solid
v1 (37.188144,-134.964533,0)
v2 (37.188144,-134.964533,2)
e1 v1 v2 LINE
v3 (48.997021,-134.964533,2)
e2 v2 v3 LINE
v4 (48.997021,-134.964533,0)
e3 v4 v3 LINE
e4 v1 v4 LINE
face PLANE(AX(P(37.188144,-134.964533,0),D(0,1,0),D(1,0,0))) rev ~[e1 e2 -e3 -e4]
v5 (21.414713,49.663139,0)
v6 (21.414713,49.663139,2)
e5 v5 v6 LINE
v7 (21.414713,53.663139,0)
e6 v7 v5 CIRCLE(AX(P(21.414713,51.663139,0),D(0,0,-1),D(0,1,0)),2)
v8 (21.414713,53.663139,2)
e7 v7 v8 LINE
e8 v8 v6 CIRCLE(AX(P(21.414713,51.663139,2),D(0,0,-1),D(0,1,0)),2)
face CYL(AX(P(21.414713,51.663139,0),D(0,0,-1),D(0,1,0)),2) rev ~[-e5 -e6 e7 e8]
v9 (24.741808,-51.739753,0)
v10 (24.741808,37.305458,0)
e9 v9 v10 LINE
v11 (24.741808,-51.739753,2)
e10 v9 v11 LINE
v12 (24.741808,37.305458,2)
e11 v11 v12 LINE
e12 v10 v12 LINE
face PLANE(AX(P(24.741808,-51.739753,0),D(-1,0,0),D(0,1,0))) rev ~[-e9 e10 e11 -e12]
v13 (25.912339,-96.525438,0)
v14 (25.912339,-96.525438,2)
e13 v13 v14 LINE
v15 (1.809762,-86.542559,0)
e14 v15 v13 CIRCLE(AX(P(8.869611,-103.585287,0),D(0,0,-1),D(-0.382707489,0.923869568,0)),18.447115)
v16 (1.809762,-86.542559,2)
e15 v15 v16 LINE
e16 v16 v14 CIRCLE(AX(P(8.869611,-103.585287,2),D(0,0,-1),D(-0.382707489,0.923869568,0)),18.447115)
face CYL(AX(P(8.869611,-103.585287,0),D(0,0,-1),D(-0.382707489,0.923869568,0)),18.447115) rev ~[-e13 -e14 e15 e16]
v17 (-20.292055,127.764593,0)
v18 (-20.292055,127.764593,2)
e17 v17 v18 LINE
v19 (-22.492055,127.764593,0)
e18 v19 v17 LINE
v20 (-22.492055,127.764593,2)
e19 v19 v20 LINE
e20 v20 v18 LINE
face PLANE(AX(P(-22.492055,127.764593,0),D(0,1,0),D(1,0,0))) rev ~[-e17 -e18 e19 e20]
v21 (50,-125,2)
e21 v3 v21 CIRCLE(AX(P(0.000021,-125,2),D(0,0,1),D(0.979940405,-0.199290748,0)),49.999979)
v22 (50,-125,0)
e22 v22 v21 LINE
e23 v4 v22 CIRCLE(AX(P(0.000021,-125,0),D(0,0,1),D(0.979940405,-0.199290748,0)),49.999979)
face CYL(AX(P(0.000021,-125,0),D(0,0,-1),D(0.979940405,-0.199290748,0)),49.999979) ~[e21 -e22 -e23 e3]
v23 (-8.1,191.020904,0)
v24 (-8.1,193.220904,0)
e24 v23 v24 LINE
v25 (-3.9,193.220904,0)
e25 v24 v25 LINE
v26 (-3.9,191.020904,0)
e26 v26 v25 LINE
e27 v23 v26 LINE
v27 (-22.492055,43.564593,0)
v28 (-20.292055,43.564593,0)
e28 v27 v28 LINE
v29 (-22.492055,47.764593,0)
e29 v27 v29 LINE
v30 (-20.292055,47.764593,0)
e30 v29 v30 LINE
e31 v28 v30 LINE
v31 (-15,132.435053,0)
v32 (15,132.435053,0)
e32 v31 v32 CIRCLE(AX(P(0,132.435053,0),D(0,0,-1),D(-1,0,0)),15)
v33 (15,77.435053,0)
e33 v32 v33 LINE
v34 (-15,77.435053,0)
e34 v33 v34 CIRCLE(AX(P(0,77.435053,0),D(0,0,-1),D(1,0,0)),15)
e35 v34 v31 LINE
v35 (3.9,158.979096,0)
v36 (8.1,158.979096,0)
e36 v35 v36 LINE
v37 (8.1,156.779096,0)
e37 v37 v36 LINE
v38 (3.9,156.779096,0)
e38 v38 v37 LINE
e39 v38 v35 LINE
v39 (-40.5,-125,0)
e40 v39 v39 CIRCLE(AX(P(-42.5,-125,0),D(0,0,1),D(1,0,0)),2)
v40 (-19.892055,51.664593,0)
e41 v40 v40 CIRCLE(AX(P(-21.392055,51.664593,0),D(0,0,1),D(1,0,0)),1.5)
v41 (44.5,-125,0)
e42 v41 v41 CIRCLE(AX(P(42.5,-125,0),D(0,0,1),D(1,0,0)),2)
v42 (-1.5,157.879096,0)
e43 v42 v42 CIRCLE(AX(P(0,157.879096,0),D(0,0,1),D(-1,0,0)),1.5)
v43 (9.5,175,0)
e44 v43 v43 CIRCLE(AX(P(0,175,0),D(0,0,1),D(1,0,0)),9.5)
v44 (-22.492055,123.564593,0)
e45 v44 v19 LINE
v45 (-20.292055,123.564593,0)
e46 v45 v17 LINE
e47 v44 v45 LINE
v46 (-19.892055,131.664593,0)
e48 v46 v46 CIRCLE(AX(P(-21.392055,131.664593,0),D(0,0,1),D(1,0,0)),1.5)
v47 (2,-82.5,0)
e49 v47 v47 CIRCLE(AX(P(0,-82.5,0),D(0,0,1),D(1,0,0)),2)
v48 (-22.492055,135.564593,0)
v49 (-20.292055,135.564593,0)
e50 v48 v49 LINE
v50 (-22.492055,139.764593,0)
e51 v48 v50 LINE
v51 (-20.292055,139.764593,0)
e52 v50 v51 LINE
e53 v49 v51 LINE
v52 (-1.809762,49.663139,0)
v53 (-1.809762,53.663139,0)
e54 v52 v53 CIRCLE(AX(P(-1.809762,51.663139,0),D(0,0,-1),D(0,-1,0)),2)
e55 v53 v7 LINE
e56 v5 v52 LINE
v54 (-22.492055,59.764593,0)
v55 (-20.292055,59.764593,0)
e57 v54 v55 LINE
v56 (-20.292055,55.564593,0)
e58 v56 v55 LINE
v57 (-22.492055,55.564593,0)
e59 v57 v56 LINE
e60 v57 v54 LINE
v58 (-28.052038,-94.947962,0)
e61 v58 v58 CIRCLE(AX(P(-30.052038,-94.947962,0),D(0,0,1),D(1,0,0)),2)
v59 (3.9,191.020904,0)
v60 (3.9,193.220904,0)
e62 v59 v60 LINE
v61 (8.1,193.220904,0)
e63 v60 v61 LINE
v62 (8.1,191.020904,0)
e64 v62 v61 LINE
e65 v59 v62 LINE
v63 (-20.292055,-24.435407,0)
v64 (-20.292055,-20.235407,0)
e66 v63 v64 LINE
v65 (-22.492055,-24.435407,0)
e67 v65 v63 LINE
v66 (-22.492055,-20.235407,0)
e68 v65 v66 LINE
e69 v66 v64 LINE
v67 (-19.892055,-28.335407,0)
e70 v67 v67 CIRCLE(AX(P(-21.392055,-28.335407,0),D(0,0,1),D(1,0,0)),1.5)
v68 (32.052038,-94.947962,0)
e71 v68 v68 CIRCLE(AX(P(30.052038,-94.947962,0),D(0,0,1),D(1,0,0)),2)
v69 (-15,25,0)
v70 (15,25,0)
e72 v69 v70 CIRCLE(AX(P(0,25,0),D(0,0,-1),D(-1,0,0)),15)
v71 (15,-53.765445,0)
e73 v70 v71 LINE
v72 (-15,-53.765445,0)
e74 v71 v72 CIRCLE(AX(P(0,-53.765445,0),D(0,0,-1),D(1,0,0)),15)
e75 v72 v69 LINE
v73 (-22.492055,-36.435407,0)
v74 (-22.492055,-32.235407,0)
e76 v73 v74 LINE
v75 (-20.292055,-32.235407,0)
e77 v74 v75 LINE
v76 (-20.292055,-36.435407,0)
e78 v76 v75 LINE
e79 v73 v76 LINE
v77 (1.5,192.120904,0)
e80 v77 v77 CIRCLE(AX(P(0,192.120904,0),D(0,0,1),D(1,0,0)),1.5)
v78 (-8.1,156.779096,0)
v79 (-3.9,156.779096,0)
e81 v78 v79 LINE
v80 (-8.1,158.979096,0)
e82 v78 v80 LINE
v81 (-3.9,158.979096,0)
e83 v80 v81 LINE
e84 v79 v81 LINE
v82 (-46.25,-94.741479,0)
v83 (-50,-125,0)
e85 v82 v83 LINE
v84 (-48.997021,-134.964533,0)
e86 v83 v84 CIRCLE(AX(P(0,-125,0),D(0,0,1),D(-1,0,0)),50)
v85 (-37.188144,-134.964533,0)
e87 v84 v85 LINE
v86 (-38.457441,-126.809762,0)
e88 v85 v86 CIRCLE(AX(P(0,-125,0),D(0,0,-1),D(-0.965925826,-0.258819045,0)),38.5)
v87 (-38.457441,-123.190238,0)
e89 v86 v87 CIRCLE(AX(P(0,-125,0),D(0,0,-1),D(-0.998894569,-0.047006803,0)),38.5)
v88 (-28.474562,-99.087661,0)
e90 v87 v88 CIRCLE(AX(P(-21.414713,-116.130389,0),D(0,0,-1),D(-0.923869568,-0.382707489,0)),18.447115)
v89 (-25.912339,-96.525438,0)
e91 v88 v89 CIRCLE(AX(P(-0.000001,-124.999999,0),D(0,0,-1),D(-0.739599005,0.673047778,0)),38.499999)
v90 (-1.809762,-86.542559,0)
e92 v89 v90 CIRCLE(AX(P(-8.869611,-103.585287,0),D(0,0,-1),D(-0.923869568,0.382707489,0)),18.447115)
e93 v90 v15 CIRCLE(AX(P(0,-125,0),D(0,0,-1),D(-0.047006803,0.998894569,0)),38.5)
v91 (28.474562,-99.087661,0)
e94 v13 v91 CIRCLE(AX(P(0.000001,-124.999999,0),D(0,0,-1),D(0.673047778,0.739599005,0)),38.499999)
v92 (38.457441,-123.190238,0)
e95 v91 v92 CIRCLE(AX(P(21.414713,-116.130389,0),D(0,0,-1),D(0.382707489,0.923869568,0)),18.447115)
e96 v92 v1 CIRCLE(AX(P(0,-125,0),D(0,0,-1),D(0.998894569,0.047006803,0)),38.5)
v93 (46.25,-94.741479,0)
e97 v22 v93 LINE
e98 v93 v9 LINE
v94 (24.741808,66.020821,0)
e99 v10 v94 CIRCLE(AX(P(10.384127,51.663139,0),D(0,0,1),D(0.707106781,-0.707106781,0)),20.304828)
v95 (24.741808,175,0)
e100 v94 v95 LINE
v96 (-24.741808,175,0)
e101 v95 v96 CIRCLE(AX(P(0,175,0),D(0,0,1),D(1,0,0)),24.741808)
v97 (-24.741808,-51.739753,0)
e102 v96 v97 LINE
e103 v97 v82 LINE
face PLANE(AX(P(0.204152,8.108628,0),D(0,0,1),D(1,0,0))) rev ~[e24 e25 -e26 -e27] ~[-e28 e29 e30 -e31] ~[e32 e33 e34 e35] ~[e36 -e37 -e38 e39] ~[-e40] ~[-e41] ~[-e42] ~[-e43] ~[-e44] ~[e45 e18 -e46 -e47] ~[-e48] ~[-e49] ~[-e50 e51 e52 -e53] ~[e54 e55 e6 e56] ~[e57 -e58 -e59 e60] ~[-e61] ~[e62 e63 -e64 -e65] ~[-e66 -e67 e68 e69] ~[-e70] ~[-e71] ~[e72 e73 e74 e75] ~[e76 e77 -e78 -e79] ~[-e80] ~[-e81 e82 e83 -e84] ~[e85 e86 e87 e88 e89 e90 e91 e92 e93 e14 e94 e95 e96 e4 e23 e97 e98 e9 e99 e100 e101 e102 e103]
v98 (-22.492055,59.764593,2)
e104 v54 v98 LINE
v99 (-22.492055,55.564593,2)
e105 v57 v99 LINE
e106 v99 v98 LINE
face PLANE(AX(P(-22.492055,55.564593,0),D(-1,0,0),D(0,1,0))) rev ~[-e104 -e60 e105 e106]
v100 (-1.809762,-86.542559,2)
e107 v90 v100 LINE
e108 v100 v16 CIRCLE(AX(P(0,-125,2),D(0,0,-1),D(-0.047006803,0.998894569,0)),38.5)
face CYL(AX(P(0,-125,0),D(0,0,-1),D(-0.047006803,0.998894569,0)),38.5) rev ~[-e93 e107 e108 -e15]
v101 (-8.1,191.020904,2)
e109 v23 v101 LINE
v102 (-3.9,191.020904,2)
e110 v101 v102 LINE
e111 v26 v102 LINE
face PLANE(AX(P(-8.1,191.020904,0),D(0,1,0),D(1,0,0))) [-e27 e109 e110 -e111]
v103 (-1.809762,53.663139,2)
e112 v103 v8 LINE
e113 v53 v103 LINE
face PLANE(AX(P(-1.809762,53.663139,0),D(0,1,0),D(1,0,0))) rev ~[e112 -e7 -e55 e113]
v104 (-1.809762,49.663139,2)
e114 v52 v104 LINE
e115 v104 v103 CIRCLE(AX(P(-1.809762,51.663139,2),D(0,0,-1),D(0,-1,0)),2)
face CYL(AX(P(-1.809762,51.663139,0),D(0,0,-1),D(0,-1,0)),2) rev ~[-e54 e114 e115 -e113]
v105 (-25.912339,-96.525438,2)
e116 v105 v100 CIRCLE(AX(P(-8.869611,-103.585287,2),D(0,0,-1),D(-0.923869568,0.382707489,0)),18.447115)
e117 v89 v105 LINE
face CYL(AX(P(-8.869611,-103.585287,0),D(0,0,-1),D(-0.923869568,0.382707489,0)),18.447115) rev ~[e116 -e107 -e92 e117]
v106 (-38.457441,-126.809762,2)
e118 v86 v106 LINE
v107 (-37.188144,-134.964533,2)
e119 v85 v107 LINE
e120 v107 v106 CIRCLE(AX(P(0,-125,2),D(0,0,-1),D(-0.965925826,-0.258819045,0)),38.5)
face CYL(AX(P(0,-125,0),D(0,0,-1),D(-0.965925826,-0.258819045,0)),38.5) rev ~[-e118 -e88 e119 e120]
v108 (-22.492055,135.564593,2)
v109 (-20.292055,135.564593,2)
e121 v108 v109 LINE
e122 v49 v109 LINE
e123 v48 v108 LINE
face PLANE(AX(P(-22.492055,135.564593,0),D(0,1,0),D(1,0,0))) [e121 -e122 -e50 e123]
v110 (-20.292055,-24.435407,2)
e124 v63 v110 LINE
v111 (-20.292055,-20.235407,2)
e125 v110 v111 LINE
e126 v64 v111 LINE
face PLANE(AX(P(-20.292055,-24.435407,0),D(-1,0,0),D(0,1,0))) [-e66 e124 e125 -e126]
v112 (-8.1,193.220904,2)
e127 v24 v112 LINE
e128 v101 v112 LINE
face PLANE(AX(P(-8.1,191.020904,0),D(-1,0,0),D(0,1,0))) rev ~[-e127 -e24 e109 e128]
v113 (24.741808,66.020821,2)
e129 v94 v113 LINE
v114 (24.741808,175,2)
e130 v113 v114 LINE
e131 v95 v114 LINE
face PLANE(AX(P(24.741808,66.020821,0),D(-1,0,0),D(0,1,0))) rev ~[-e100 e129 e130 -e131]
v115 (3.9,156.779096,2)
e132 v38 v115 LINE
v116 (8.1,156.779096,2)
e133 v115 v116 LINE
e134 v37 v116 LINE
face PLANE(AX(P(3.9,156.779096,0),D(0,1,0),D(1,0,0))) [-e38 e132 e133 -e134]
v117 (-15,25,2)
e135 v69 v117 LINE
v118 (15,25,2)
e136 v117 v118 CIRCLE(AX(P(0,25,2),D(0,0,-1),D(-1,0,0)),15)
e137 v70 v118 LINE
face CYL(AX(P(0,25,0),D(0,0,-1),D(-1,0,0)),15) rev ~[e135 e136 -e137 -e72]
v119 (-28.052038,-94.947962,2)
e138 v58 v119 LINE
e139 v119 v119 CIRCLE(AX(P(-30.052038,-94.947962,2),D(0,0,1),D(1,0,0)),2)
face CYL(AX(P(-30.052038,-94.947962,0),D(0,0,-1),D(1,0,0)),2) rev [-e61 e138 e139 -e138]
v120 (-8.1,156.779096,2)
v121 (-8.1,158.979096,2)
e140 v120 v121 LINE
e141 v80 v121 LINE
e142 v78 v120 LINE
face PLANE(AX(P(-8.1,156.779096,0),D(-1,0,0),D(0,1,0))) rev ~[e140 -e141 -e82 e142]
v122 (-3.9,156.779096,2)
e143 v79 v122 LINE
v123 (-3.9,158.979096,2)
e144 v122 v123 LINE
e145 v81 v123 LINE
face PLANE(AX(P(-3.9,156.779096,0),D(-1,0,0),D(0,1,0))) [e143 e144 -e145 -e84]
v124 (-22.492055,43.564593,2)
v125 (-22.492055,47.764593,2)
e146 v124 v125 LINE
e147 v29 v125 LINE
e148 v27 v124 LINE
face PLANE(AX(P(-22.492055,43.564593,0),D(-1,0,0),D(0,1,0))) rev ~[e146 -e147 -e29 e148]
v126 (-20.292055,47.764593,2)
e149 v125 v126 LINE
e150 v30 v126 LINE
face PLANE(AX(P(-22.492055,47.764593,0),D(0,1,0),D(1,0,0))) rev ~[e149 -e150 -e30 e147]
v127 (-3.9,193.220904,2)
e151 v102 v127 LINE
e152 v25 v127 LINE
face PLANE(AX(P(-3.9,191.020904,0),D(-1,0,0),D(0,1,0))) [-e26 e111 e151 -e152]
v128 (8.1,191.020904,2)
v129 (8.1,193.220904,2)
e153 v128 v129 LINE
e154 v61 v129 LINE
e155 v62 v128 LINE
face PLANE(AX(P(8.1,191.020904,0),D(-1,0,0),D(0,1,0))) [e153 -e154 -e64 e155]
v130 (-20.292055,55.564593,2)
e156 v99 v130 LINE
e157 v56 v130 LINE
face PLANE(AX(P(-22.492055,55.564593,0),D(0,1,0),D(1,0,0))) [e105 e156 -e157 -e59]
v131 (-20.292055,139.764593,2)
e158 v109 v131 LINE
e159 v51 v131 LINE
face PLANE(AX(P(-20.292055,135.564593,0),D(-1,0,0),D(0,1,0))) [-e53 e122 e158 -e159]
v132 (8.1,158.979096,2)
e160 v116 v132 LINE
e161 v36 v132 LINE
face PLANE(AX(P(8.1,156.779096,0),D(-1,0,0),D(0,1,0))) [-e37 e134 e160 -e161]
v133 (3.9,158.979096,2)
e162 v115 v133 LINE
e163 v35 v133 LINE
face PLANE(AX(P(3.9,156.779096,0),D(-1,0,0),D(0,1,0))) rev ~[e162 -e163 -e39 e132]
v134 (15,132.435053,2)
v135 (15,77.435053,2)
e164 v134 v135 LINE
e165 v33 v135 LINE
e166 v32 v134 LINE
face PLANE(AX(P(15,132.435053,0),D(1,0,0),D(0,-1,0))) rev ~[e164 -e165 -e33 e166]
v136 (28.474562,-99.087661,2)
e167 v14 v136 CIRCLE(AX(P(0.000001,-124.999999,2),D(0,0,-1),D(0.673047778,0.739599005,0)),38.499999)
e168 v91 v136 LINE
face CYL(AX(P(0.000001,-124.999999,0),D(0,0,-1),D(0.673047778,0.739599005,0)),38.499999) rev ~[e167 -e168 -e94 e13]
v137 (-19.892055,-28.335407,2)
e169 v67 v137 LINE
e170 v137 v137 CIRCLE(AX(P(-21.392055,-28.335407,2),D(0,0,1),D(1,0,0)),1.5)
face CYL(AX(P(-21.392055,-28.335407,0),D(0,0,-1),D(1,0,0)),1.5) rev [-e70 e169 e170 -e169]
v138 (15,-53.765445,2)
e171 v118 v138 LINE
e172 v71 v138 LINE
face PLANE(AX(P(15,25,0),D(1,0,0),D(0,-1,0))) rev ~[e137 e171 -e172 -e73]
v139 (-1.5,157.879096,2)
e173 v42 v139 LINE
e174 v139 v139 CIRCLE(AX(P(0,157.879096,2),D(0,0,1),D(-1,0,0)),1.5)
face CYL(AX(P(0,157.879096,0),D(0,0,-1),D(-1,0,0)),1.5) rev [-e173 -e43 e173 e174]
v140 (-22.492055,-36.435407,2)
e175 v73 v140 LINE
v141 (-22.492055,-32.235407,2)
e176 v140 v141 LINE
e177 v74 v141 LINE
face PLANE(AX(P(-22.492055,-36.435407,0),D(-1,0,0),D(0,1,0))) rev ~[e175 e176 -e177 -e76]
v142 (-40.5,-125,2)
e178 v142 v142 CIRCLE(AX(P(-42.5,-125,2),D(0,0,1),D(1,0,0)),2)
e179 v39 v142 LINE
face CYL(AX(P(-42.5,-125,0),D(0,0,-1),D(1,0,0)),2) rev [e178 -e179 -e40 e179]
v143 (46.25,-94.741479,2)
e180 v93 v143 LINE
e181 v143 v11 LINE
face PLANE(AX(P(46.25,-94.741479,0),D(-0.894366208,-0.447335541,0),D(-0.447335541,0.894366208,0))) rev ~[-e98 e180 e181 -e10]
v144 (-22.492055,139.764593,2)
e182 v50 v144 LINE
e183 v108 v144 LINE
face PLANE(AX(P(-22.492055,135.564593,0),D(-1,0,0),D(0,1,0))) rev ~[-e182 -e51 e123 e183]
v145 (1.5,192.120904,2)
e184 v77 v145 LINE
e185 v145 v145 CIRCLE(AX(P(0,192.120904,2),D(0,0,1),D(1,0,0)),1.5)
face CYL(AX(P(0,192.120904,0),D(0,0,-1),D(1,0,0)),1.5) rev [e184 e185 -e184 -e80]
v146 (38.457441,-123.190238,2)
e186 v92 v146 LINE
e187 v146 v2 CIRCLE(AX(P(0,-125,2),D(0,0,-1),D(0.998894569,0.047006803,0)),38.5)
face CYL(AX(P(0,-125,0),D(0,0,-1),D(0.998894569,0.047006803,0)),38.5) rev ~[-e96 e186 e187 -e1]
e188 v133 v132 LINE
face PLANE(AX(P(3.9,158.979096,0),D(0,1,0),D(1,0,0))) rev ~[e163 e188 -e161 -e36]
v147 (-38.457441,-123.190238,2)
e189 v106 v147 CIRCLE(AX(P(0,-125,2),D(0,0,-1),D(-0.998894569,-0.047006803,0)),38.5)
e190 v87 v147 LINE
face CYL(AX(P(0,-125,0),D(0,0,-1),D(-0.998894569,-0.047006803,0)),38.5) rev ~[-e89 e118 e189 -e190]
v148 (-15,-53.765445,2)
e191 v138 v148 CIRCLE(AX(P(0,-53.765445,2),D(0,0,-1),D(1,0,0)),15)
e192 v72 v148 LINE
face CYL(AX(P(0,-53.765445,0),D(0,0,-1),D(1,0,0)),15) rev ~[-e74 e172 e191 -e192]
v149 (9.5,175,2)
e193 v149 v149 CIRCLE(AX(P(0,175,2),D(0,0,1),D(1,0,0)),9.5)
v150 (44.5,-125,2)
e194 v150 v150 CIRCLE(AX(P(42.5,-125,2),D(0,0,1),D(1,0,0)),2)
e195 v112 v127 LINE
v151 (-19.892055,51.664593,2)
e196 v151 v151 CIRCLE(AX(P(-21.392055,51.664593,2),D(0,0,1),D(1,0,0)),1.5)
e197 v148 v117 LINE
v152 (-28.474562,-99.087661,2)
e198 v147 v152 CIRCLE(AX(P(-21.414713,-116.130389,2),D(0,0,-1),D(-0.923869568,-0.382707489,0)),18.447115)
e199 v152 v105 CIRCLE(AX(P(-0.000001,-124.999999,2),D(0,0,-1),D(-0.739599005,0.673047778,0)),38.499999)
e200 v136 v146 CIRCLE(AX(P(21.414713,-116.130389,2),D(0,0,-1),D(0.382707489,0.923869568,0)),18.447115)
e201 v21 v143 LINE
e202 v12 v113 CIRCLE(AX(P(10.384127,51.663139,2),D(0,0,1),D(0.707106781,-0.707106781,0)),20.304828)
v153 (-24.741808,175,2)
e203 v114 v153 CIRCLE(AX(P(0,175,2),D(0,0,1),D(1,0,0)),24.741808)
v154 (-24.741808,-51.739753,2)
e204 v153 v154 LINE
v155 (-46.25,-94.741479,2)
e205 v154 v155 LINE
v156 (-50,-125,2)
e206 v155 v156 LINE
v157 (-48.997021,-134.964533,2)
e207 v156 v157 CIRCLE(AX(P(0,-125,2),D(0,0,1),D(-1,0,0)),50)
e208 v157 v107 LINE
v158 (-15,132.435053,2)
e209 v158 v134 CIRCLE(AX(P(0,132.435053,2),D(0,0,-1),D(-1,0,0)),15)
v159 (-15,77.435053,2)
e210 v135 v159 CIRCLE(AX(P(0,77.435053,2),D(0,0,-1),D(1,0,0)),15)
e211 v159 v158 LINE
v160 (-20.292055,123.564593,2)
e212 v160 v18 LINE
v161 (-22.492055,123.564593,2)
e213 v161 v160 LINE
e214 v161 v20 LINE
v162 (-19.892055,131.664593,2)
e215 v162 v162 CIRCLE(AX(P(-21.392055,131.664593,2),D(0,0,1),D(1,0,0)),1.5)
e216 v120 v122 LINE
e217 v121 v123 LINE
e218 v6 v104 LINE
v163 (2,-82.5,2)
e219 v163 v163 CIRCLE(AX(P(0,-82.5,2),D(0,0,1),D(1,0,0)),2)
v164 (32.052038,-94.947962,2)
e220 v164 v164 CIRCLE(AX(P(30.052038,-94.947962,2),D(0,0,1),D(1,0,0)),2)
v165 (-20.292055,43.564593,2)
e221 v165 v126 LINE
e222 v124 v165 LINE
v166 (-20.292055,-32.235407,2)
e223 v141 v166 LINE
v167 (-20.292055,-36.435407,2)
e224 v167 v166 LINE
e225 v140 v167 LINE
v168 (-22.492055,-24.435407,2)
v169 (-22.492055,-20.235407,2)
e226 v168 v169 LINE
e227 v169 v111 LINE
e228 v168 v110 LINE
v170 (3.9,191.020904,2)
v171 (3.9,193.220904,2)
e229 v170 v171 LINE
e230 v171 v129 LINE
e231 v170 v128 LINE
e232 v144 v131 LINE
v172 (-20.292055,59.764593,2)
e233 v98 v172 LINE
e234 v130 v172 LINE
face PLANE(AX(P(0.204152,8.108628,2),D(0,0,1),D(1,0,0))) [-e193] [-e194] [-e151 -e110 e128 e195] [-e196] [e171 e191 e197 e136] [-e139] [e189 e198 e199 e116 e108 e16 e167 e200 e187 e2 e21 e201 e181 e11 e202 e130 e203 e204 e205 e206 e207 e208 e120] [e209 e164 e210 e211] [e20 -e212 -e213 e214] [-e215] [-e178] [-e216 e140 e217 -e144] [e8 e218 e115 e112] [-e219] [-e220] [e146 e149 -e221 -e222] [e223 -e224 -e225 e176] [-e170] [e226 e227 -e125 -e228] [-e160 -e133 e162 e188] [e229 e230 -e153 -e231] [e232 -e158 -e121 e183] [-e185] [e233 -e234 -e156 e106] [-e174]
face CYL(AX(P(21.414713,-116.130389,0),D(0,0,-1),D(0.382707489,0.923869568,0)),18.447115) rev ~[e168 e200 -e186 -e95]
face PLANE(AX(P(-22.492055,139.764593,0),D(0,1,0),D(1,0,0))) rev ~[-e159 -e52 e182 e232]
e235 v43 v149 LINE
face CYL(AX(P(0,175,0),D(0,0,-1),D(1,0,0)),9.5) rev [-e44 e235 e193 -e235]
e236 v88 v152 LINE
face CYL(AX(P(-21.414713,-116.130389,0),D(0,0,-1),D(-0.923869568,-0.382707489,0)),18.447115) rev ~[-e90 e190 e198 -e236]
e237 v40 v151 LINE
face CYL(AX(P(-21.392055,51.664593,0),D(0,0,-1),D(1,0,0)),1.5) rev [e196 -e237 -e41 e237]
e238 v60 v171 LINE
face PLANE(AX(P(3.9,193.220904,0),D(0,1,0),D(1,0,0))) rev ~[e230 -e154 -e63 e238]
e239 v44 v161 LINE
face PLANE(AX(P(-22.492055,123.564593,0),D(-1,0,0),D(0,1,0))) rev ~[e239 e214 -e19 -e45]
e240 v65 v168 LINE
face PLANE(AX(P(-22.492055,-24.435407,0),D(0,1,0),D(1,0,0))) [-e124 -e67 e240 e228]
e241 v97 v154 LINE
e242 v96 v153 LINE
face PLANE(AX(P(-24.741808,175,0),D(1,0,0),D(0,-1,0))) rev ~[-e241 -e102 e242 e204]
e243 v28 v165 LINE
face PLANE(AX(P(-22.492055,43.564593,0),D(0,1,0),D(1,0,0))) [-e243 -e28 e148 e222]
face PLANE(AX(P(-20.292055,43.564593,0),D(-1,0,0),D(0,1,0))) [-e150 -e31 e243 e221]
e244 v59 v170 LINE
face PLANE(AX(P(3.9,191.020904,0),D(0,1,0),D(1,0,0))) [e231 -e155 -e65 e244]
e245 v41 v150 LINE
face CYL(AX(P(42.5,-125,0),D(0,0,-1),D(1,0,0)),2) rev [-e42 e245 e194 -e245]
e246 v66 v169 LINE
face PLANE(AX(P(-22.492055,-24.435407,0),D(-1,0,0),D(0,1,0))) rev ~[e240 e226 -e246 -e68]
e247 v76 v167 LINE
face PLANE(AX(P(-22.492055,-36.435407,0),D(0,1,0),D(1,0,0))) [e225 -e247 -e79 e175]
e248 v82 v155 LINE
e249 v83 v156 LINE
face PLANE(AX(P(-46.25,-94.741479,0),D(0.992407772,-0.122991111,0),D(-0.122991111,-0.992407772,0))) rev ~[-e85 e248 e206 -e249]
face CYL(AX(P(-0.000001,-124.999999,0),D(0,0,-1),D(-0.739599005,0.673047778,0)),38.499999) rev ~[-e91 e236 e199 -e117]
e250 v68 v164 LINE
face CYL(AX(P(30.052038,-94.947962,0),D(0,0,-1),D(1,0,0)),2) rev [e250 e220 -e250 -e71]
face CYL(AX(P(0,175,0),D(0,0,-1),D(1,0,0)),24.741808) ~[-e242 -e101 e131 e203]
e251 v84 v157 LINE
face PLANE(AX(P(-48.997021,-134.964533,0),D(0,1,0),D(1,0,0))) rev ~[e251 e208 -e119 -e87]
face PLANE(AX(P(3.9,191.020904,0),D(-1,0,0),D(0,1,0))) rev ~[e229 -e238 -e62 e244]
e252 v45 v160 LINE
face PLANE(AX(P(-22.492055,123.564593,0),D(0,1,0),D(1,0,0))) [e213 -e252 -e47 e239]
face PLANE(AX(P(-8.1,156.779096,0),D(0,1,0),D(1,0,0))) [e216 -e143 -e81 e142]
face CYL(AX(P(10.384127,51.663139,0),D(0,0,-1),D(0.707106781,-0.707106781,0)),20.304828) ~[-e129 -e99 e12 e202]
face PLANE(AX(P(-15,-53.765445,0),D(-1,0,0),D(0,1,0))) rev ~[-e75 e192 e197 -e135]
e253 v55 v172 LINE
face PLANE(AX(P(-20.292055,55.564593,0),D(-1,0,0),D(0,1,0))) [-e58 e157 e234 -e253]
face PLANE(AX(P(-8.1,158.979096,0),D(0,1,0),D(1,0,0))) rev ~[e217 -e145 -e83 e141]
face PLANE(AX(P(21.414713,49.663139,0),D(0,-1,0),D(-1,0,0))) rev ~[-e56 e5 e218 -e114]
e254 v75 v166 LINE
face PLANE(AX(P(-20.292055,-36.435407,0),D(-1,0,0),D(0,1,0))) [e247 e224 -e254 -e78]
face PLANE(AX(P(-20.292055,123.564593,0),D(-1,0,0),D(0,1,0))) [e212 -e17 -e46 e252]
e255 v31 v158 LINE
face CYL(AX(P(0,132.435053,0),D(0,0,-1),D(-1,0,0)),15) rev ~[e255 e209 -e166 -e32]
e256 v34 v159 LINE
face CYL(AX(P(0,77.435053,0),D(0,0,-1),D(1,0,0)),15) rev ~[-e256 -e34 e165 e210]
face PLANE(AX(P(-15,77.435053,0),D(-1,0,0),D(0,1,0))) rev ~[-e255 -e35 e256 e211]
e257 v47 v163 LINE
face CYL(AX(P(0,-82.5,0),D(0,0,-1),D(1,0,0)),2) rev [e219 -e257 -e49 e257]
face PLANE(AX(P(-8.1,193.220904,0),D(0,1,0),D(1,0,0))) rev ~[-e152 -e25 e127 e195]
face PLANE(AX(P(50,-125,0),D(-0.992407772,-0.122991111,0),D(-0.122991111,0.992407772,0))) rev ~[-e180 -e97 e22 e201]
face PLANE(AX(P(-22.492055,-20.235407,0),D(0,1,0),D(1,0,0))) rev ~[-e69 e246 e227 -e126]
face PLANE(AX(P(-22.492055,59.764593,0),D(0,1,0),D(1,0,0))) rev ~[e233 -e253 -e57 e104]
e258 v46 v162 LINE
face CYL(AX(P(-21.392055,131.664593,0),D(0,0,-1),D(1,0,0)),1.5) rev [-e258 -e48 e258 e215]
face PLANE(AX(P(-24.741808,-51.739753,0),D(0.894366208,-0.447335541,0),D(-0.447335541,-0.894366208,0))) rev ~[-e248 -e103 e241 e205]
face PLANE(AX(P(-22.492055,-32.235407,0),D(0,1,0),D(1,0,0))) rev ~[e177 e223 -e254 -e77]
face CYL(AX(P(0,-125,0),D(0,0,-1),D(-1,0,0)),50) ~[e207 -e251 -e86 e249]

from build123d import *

# Parameters (mm, degrees)
SKETCH_1_R      = 2
SKETCH_1_R_2    = 9.5
SKETCH_1_R_3    = 1.5
SKETCH_1_W      = 4.2
SKETCH_1_H      = 2.2
SKETCH_1_W_2    = 2.2
SKETCH_1_H_2    = 4.2
EXTRUDE_1_DEPTH = 2


with BuildPart() as part:
    # 草图1 → 凸台-拉伸1 (new body)
    with BuildSketch(Plane.XY):
        with BuildLine():
            Line((37.188144312, -134.964533236), (48.99702068, -134.964533236))
            ThreePointArc((48.99702068, -134.964533236), (49.748623267, -130.007441715), (50, -125))
            Line((50, -125), (46.25, -94.741478673))
            Line((46.25, -94.741478673), (24.741807932, -51.739753072))
            Line((24.741807932, -51.739753072), (24.741807932, 0))
            Line((24.741807932, 0), (24.741807932, 37.305457961))
            ThreePointArc((24.741807932, 37.305457961), (30.688954295, 51.663139366), (24.741807932, 66.020820772))
            Line((24.741807932, 66.020820772), (24.741807932, 175))
            ThreePointArc((24.741807932, 175), (0, 199.741807932), (-24.741807932, 175))
            Line((-24.741807932, 175), (-24.741807932, 0))
            Line((-24.741807932, 0), (-24.741807932, -51.739753072))
            Line((-24.741807932, -51.739753072), (-46.25, -94.741478673))
            Line((-46.25, -94.741478673), (-50, -125))
            ThreePointArc((-50, -125), (-49.748623375, -130.007441694), (-48.997021107, -134.964533236))
            Line((-48.997021107, -134.964533236), (-37.188144312, -134.964533236))
            ThreePointArc((-37.188144312, -134.964533236), (-38.041933638, -130.921257055), (-38.457440916, -126.809761925))
            ThreePointArc((-38.457440916, -126.809761925), (-38.5, -125), (-38.457440916, -123.190238075))
            ThreePointArc((-38.457440916, -123.190238075), (-38.457808555, -109.071427319), (-28.474561687, -99.087660532))
            ThreePointArc((-28.474561687, -99.087660532), (-27.223611076, -97.776388924), (-25.912339468, -96.525438313))
            ThreePointArc((-25.912339468, -96.525438313), (-15.928572681, -86.542191445), (-1.809761925, -86.542559084))
            ThreePointArc((-1.809761925, -86.542559084), (0, -86.5), (1.809761925, -86.542559084))
            ThreePointArc((1.809761925, -86.542559084), (15.928572681, -86.542191445), (25.912339468, -96.525438313))
            ThreePointArc((25.912339468, -96.525438313), (27.223611076, -97.776388924), (28.474561687, -99.087660532))
            ThreePointArc((28.474561687, -99.087660532), (38.457808555, -109.071427319), (38.457440916, -123.190238075))
            ThreePointArc((38.457440916, -123.190238075), (38.278220279, -129.126481825), (37.188144312, -134.964533236))
        make_face()
        with Locations((-42.5, -125)):
            Circle(SKETCH_1_R, mode=Mode.SUBTRACT)
        with Locations((-30.0520382, -94.9479618)):
            Circle(SKETCH_1_R, mode=Mode.SUBTRACT)
        with Locations((0, -82.5)):
            Circle(SKETCH_1_R, mode=Mode.SUBTRACT)
        with Locations((30.0520382, -94.9479618)):
            Circle(SKETCH_1_R, mode=Mode.SUBTRACT)
        with Locations((42.5, -125)):
            Circle(SKETCH_1_R, mode=Mode.SUBTRACT)
        with Locations((0, 175)):
            Circle(SKETCH_1_R_2, mode=Mode.SUBTRACT)
        with Locations((0, 192.120903966)):
            Circle(SKETCH_1_R_3, mode=Mode.SUBTRACT)
        with Locations(Location((0, 157.879096034, 0), (0, 0, 180))):
            Circle(SKETCH_1_R_3, mode=Mode.SUBTRACT)
        with Locations((-21.392054648, -28.335407124)):
            Circle(SKETCH_1_R_3, mode=Mode.SUBTRACT)
        with Locations((-21.392054648, 51.664592876)):
            Circle(SKETCH_1_R_3, mode=Mode.SUBTRACT)
        with Locations((-21.392054648, 131.664592876)):
            Circle(SKETCH_1_R_3, mode=Mode.SUBTRACT)
        with Locations((6, 192.120903966)):
            Rectangle(SKETCH_1_W, SKETCH_1_H, mode=Mode.SUBTRACT)
        with BuildLine():
            Line((21.41471253, 49.663139366), (-1.809761925, 49.663139366))
            ThreePointArc((-1.809761925, 49.663139366), (-3.809761925, 51.663139366), (-1.809761925, 53.663139366))
            Line((-1.809761925, 53.663139366), (21.41471253, 53.663139366))
            ThreePointArc((21.41471253, 53.663139366), (23.41471253, 51.663139366), (21.41471253, 49.663139366))
        make_face(mode=Mode.SUBTRACT)
        with Locations((-6, 192.120903966)):
            Rectangle(SKETCH_1_W, SKETCH_1_H, mode=Mode.SUBTRACT)
        with Locations((-21.392054648, 57.664592876)):
            Rectangle(SKETCH_1_W_2, SKETCH_1_H_2, mode=Mode.SUBTRACT)
        with Locations((-6, 157.879096034)):
            Rectangle(SKETCH_1_W, SKETCH_1_H, mode=Mode.SUBTRACT)
        with Locations((6, 157.879096034)):
            Rectangle(SKETCH_1_W, SKETCH_1_H, mode=Mode.SUBTRACT)
        with BuildLine():
            Line((-15, -53.7654447), (-15, 25))
            ThreePointArc((-15, 25), (0, 40), (15, 25))
            Line((15, 25), (15, -53.7654447))
            ThreePointArc((15, -53.7654447), (0, -68.7654447), (-15, -53.7654447))
        make_face(mode=Mode.SUBTRACT)
        with Locations((-21.392054648, -22.335407124)):
            Rectangle(SKETCH_1_W_2, SKETCH_1_H_2, mode=Mode.SUBTRACT)
        with Locations((-21.392054648, -34.335407124)):
            Rectangle(SKETCH_1_W_2, SKETCH_1_H_2, mode=Mode.SUBTRACT)
        with Locations((-21.392054648, 45.664592876)):
            Rectangle(SKETCH_1_W_2, SKETCH_1_H_2, mode=Mode.SUBTRACT)
        with BuildLine():
            Line((-15, 77.43505255), (-15, 132.43505255))
            ThreePointArc((-15, 132.43505255), (0, 147.43505255), (15, 132.43505255))
            Line((15, 132.43505255), (15, 77.43505255))
            ThreePointArc((15, 77.43505255), (0, 62.43505255), (-15, 77.43505255))
        make_face(mode=Mode.SUBTRACT)
        with Locations((-21.392054648, 137.664592876)):
            Rectangle(SKETCH_1_W_2, SKETCH_1_H_2, mode=Mode.SUBTRACT)
        with Locations((-21.392054648, 125.664592876)):
            Rectangle(SKETCH_1_W_2, SKETCH_1_H_2, mode=Mode.SUBTRACT)
    extrude(amount=EXTRUDE_1_DEPTH)


solid = part.part
